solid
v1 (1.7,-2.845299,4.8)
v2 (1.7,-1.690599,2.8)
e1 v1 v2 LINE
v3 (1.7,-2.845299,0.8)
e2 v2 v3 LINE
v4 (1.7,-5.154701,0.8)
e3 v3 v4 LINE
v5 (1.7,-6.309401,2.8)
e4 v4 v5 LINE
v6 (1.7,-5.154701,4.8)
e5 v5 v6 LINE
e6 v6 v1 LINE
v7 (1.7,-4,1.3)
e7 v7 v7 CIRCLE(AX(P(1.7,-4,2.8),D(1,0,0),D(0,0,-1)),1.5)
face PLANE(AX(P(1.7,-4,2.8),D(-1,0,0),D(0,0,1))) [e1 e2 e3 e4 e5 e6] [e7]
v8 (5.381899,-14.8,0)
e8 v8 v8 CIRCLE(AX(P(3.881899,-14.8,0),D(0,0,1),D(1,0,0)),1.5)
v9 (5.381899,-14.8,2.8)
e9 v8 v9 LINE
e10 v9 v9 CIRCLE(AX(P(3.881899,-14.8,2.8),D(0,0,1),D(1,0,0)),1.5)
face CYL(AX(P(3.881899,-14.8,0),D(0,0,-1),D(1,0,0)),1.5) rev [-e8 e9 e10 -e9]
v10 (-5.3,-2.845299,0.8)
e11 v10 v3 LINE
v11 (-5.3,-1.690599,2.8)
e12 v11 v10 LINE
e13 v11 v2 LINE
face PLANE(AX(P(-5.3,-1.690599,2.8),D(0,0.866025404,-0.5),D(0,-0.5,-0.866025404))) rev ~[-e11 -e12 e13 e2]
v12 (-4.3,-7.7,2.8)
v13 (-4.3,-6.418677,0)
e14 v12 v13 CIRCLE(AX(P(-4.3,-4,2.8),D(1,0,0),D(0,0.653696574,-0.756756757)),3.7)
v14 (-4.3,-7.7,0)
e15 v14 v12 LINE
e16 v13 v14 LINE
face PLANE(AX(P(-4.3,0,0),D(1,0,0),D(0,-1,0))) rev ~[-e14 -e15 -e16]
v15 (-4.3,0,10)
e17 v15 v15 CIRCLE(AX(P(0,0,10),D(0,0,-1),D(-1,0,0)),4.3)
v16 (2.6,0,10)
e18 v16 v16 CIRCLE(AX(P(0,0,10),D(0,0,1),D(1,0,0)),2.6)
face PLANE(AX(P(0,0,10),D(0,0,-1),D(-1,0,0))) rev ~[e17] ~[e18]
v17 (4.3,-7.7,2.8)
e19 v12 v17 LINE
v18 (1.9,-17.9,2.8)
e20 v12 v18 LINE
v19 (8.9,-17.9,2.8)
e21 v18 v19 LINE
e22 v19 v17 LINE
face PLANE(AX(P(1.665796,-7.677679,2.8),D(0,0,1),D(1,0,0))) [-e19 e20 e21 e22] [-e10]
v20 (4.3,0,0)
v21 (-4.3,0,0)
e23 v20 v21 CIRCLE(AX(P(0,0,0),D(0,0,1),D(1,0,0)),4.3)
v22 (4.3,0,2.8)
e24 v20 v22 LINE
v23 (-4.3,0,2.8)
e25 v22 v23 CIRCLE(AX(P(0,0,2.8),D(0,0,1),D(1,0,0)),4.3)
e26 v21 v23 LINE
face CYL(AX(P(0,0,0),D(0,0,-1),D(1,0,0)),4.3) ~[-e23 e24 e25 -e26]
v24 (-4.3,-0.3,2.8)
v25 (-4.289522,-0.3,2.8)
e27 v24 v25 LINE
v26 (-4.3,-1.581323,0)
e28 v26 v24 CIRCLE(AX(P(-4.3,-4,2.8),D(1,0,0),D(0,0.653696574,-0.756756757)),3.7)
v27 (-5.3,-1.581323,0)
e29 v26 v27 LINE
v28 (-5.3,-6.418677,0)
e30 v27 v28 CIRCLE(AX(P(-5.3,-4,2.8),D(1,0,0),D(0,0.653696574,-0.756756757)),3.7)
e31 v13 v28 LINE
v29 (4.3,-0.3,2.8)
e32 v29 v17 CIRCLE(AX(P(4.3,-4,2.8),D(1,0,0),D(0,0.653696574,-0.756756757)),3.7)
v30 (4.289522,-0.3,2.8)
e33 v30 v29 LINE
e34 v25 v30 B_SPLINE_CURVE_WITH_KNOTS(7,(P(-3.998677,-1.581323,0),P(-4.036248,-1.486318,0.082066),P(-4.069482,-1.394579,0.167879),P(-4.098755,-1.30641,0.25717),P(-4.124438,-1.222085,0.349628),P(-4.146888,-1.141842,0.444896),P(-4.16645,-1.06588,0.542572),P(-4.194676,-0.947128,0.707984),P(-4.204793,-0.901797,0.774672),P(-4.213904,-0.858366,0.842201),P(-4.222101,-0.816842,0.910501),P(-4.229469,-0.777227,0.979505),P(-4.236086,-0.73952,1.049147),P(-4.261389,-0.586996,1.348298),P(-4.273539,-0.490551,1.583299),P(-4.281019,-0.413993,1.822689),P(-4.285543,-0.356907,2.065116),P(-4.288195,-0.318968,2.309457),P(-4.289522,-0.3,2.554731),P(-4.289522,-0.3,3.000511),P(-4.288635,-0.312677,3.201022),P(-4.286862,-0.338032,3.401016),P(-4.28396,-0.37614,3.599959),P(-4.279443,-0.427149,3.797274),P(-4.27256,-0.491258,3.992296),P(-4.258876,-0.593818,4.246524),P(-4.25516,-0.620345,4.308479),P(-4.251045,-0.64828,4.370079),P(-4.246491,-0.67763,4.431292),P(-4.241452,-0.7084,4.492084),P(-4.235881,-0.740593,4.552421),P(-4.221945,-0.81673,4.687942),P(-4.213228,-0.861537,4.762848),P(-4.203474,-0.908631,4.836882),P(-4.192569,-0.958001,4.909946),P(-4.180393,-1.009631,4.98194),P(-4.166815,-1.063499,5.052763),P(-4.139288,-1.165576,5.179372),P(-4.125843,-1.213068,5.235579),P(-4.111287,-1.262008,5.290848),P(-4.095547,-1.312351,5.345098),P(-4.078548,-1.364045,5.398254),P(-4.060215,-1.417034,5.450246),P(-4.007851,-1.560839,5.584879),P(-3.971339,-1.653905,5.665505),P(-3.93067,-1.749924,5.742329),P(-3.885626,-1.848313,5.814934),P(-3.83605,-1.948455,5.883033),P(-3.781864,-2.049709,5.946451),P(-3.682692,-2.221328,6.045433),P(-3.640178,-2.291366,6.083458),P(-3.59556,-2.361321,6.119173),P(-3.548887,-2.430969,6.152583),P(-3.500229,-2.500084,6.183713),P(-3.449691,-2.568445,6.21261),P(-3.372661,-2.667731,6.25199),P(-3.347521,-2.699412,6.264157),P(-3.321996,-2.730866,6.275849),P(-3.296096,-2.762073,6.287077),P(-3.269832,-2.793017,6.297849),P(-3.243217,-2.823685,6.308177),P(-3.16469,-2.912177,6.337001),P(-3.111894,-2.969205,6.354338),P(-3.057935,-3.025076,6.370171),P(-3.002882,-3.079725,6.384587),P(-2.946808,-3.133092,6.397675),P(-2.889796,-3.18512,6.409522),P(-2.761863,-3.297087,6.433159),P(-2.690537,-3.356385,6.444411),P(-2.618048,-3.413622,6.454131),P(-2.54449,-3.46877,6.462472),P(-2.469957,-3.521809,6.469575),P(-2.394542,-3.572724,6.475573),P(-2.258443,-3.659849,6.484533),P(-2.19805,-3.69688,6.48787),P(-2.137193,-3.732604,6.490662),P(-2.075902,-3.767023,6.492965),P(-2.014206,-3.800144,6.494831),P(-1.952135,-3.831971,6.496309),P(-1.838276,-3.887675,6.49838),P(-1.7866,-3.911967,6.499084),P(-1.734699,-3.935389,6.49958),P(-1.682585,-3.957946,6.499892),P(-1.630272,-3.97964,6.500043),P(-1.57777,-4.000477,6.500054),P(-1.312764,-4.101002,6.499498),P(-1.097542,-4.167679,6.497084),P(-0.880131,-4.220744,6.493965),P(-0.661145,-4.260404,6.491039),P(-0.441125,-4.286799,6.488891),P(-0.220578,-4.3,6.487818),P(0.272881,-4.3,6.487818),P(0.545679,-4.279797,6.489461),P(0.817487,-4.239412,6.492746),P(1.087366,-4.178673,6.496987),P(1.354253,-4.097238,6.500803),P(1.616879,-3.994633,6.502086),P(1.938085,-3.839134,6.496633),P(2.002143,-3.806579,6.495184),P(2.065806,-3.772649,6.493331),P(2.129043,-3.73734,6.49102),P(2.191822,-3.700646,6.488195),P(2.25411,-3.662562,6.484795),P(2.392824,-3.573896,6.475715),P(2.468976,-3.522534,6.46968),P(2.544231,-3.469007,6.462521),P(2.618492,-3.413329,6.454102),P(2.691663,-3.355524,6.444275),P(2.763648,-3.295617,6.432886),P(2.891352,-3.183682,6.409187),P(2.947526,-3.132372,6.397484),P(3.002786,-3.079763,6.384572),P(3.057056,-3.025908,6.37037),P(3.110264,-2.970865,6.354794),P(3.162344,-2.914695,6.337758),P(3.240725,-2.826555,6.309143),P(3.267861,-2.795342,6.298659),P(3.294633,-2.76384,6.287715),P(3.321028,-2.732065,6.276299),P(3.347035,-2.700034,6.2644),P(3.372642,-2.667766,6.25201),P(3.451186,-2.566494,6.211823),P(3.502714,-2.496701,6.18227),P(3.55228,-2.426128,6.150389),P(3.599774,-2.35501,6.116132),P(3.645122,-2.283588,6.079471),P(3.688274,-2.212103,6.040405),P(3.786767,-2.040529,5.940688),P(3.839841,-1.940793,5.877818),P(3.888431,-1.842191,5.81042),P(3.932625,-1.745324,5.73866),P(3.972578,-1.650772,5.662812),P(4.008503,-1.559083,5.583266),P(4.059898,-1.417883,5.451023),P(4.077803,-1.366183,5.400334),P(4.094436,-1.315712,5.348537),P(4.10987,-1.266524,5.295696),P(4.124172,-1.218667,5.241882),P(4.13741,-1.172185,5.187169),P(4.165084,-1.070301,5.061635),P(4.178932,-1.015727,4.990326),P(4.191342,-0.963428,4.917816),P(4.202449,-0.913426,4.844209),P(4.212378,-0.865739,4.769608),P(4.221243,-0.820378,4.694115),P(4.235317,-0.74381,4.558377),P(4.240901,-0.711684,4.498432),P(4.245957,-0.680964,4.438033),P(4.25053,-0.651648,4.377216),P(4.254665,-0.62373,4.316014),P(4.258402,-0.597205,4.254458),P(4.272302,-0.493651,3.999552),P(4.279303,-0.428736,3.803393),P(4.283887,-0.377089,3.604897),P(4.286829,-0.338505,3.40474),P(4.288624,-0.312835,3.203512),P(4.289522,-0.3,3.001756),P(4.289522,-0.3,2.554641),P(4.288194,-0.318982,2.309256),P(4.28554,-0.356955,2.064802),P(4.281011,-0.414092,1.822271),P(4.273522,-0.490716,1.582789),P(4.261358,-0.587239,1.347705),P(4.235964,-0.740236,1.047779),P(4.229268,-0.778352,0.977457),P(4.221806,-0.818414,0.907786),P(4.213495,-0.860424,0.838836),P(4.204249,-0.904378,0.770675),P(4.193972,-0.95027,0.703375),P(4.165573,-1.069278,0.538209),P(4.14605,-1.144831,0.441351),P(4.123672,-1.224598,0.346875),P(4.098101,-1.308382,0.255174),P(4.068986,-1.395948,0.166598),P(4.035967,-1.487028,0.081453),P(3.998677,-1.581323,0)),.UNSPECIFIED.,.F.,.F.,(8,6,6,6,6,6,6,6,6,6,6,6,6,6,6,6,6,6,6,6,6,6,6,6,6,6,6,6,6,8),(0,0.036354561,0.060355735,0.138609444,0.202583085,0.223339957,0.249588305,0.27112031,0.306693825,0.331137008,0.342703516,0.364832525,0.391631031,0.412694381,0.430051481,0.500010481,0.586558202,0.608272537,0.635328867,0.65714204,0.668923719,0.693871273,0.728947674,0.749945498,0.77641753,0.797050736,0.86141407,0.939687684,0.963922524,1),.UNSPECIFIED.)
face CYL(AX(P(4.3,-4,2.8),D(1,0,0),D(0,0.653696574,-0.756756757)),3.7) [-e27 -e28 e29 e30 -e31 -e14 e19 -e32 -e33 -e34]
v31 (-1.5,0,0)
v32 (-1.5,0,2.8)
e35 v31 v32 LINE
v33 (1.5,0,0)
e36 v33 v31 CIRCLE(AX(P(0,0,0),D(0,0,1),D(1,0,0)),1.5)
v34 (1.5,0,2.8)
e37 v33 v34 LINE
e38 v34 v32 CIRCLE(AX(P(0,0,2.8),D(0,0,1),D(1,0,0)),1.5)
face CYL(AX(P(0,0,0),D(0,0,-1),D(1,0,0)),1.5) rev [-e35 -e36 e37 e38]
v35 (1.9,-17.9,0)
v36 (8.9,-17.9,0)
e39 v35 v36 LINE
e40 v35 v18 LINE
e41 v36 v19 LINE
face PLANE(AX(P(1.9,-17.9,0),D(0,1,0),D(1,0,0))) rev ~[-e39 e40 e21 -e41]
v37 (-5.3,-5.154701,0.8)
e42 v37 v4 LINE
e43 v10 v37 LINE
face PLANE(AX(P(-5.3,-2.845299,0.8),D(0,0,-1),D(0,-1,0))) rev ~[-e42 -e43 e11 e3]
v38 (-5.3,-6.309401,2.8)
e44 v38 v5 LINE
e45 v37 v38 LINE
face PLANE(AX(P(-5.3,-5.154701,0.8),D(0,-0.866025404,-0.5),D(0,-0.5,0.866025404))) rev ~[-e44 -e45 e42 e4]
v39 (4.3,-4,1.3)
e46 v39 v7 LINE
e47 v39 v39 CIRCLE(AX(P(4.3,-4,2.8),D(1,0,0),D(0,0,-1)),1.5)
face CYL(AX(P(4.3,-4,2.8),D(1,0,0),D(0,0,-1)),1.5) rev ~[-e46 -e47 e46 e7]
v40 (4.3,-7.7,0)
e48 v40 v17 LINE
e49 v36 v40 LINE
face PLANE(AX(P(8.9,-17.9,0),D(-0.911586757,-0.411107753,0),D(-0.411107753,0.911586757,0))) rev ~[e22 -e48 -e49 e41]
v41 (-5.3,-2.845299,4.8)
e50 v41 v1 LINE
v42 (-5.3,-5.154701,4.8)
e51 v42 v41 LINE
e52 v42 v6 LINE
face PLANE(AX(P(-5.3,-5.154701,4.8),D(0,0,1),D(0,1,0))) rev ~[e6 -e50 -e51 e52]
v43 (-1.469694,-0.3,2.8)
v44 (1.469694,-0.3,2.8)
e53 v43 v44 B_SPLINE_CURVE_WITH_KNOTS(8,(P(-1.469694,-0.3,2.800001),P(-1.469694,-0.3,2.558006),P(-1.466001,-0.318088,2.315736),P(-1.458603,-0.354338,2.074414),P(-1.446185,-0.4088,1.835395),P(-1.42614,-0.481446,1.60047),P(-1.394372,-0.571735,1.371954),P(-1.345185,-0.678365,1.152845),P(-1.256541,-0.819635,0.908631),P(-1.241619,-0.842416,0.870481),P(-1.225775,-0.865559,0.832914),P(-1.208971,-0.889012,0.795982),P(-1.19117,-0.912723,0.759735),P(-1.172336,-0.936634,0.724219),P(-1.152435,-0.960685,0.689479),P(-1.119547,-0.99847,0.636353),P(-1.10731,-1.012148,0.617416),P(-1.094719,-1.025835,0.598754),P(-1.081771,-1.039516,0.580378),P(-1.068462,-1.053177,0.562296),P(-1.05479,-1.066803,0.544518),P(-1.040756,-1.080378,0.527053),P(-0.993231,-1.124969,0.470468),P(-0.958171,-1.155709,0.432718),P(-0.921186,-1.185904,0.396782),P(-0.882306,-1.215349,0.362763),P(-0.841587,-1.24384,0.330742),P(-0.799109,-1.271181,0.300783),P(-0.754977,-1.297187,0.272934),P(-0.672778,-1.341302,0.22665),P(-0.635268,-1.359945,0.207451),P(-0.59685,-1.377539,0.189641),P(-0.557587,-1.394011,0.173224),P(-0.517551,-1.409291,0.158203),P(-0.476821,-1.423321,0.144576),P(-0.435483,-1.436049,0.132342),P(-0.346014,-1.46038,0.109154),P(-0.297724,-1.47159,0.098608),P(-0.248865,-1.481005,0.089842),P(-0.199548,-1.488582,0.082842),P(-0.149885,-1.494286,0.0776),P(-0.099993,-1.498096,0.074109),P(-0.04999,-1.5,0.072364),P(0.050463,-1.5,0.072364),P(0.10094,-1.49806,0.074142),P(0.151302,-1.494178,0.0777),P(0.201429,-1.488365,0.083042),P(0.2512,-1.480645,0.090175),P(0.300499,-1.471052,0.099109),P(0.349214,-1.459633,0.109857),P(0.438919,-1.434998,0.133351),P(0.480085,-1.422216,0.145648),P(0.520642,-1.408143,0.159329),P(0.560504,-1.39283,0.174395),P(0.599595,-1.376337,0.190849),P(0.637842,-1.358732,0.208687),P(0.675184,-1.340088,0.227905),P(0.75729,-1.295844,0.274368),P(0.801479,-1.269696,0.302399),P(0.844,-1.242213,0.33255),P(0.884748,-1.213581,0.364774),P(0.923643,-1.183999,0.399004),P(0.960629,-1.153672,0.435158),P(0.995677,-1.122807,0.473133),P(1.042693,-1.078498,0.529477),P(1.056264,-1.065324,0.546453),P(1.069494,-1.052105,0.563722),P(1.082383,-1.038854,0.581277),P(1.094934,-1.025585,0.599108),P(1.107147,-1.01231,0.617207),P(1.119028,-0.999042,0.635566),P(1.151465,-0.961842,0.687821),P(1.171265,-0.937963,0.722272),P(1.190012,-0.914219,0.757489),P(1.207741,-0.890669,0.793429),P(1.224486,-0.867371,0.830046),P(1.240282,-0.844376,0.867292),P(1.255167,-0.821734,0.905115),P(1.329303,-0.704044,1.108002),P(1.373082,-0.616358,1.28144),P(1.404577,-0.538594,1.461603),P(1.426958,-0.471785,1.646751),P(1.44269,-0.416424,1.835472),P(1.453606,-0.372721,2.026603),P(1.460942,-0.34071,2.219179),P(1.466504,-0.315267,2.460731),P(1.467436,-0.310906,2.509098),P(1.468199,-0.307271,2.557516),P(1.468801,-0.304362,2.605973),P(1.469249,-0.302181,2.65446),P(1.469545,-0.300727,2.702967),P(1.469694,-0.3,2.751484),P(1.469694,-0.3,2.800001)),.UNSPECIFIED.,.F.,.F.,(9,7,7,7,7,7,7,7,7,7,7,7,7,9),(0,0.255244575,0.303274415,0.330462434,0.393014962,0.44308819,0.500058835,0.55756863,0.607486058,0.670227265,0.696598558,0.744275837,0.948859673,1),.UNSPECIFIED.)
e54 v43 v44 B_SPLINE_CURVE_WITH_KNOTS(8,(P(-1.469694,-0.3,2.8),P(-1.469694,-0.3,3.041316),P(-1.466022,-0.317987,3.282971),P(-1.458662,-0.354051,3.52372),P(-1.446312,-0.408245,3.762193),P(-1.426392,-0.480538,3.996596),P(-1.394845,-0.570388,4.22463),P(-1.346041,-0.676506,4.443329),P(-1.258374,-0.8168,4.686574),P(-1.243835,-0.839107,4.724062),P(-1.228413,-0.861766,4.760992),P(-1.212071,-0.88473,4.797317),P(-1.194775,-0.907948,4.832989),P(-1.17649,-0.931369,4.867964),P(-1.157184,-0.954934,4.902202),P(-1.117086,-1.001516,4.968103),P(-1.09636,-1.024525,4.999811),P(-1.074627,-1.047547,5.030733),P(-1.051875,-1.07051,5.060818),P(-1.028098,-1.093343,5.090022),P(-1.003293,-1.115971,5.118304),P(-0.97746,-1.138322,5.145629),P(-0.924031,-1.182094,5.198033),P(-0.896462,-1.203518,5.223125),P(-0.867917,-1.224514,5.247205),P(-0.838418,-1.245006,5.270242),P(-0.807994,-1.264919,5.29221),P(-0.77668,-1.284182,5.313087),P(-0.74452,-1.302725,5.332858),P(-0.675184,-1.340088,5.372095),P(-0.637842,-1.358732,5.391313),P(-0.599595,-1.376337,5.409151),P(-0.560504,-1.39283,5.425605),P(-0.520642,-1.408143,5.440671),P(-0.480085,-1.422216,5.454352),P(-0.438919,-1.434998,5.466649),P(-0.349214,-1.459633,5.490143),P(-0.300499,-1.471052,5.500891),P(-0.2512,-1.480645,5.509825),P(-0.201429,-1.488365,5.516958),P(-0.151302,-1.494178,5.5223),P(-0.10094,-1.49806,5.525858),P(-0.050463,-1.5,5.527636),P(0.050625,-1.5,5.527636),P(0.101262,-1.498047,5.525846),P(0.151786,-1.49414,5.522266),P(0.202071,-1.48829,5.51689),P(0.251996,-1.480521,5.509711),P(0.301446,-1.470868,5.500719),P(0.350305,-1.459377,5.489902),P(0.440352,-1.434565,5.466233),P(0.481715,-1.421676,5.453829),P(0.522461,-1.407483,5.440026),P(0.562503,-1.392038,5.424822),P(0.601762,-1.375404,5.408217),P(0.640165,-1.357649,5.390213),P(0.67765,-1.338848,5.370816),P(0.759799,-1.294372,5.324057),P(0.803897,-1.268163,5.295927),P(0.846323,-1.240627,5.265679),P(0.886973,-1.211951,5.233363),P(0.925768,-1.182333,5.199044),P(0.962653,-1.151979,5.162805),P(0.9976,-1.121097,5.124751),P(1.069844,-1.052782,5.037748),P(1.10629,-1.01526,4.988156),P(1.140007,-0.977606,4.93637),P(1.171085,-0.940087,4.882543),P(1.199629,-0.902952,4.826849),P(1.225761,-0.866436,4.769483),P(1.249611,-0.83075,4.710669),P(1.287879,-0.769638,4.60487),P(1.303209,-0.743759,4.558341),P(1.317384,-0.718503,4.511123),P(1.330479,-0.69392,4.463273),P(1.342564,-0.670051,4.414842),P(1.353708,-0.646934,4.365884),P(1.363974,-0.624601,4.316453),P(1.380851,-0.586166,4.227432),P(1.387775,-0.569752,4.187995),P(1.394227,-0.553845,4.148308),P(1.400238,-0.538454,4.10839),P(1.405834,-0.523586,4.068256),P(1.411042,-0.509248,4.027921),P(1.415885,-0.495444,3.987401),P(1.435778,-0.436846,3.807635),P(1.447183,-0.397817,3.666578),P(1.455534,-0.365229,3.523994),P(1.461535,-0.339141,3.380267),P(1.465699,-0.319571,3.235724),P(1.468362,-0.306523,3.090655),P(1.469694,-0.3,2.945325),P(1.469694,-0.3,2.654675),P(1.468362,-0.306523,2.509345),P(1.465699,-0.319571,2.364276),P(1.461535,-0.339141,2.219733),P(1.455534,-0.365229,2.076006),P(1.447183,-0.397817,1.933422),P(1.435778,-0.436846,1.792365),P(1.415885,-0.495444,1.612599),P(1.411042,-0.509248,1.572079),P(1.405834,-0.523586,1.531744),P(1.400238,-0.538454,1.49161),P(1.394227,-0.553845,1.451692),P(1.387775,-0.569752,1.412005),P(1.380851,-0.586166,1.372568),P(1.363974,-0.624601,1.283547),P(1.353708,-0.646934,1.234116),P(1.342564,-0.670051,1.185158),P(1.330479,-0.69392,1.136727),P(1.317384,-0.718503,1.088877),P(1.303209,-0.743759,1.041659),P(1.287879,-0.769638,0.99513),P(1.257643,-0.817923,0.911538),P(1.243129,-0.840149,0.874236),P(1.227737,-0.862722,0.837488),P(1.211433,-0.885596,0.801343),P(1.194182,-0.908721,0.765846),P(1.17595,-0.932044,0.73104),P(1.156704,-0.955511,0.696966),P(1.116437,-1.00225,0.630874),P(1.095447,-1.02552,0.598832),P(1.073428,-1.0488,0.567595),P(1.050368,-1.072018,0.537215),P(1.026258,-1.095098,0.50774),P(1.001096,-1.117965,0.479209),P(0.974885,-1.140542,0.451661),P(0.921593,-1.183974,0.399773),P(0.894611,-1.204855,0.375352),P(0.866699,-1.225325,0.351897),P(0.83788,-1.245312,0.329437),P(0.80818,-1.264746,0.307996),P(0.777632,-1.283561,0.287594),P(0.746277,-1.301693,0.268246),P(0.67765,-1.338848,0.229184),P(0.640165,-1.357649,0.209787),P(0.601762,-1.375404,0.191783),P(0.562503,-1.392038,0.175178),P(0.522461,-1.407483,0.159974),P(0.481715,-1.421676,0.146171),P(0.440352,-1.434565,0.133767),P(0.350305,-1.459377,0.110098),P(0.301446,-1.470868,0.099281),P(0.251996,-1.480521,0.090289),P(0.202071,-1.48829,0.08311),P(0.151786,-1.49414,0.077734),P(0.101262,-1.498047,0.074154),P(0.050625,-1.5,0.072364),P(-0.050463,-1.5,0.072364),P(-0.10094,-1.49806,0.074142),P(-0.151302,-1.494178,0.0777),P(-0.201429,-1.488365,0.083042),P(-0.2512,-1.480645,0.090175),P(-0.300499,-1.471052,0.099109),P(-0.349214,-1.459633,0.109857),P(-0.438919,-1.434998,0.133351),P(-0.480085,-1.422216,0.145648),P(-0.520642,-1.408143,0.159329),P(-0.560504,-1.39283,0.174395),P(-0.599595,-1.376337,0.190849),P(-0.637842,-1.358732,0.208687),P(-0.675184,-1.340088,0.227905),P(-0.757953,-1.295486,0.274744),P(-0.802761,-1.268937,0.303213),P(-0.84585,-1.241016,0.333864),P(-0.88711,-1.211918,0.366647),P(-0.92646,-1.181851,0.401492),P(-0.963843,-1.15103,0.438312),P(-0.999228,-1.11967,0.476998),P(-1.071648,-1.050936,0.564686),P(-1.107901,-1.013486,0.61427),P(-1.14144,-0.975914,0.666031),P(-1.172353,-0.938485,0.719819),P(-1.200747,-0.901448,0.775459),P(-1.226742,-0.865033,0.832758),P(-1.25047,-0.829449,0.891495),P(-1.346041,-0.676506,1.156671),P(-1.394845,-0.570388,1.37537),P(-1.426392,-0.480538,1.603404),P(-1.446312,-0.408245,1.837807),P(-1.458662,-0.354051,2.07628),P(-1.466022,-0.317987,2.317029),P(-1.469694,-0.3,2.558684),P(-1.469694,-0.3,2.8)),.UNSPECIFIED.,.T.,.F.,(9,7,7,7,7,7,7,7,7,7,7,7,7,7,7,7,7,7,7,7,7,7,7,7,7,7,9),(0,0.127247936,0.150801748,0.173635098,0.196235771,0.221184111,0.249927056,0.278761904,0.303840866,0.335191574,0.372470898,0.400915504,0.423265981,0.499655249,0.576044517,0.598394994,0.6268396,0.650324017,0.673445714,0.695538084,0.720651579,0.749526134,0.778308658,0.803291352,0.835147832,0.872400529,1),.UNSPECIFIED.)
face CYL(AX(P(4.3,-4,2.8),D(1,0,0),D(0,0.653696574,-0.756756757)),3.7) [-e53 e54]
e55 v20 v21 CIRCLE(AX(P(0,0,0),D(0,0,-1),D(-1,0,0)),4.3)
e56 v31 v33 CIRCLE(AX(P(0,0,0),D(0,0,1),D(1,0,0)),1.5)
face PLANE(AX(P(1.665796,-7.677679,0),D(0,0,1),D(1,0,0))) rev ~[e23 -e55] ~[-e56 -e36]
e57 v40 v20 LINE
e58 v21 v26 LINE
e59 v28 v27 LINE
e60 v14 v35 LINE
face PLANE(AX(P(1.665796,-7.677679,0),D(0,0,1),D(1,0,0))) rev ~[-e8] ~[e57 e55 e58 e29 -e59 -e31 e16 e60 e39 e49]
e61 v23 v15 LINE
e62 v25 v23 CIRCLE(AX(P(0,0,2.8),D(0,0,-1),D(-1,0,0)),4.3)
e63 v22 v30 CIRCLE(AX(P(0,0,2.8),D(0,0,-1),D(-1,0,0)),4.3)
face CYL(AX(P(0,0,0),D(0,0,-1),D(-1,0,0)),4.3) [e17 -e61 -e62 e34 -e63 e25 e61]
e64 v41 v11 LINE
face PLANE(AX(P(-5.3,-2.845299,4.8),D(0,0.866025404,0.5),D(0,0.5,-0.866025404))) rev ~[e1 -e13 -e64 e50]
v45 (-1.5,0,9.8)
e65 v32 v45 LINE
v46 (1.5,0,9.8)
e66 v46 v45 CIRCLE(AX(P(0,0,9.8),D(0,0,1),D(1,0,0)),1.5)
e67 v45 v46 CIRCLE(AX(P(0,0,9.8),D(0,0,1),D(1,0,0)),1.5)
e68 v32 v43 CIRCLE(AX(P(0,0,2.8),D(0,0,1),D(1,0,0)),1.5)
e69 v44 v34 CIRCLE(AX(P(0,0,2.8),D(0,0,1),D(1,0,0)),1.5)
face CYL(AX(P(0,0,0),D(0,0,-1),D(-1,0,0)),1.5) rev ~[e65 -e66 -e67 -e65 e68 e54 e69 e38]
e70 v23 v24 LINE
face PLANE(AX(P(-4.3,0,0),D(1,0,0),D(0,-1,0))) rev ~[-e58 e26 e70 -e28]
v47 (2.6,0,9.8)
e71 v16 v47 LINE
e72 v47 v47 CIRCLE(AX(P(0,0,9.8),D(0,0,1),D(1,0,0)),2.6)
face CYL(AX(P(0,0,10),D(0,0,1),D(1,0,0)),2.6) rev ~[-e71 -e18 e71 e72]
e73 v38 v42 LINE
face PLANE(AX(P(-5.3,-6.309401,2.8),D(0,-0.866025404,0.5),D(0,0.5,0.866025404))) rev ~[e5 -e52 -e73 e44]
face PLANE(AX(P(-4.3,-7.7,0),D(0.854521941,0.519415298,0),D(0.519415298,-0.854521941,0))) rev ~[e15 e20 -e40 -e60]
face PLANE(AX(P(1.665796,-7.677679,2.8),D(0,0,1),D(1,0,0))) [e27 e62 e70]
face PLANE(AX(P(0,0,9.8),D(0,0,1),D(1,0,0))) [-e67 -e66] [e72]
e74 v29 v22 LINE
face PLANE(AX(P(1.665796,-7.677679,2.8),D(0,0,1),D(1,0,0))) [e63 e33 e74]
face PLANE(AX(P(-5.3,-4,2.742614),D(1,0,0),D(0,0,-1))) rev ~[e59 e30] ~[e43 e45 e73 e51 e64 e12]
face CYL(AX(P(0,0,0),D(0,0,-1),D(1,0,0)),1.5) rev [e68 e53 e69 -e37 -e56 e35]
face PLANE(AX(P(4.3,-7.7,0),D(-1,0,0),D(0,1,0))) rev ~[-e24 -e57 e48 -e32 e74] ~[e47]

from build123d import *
from build123d.topology import SkipClean

# Parameters (mm, degrees)
SKETCH_1_R          = 1.5
EXTRUDE_1_DEPTH     = 2.8
EXTRUDE_2_DEPTH     = 9.6
SKETCH_3_R          = 4.3
SKETCH_3_R_2        = 1.5
EXTRUDE_4_DEPTH     = 10
CUT_EXTRUDE_START   = -0.2
SKETCH_4_R          = 2.6
SKETCH_4_R_2        = 1.5
CUT_EXTRUDE_1_DEPTH = 0.2
CUT_EXTRUDE_2_DEPTH = 7
SKETCH_6_R          = 1.5
CUT_EXTRUDE_3_DEPTH = 23.64000892


with BuildPart() as part:
    # 草图1 → 凸台-拉伸1 (new body)
    with BuildSketch(Plane.XY):
        with BuildLine():
            Line((4.3, -7.7), (4.3, 0))
            ThreePointArc((4.3, 0), (0, 4.3), (-4.3, 0))
            Line((-4.3, 0), (-4.3, -7.7))
            Line((-4.3, -7.7), (1.9, -17.9))
            Line((1.9, -17.9), (8.9, -17.9))
            Line((8.9, -17.9), (4.3, -7.7))
        make_face()
        Circle(SKETCH_1_R, mode=Mode.SUBTRACT)
        with Locations((3.881899419, -14.8)):
            Circle(SKETCH_1_R, mode=Mode.SUBTRACT)
    extrude(amount=EXTRUDE_1_DEPTH)

    # 草图2 → 凸台-拉伸2 (add)
    with BuildSketch(Plane(origin=(4.3, 0, 0), x_dir=(0, 0, -1), z_dir=(1, 0, 0))):
        with BuildLine():
            Line((0, -6.418677324), (0, -1.581322676))
            ThreePointArc((0, -1.581322676), (-6.5, -4), (0, -6.418677324))
        make_face()
    extrude(amount=-EXTRUDE_2_DEPTH)

    # 草图3 → 凸台-拉伸4 (add)
    with SkipClean():  # the faces are left unmerged after this step: merging them gives an invalid solid
        with BuildSketch(Plane(origin=(0, 0, 0), x_dir=(-1, 0, 0), z_dir=(0, 0, -1))):
            Circle(SKETCH_3_R)
            Circle(SKETCH_3_R_2, mode=Mode.SUBTRACT)
        extrude(amount=-EXTRUDE_4_DEPTH)

    # 草图4 → 切除-拉伸1 (cut)
    with SkipClean():  # the faces are left unmerged after this step: merging them gives an invalid solid
        with BuildSketch(Plane.XY.offset(10).offset(CUT_EXTRUDE_START)):
            Circle(SKETCH_4_R)
            Circle(SKETCH_4_R_2, mode=Mode.SUBTRACT)
        extrude(amount=CUT_EXTRUDE_1_DEPTH, mode=Mode.SUBTRACT)

    # 草图5 → 切除-拉伸2 (cut)
    with SkipClean():  # the faces are left unmerged after this step: merging them gives an invalid solid
        with BuildSketch(Plane.ZY.offset(5.3)):
            Polygon((0.8, -5.154700538), (2.8, -6.309401077), (4.8, -5.154700538), (4.8, -2.845299462), (2.8, -1.690598923), (0.8, -2.845299462), align=None)
        extrude(amount=-CUT_EXTRUDE_2_DEPTH, mode=Mode.SUBTRACT)

    # 草图6 → 切除-拉伸3 (cut, through all)
    with SkipClean():  # the faces are left unmerged after this step: merging them gives an invalid solid
        with BuildSketch(Plane(origin=(4.3, 0, 0), x_dir=(0, 0, -1), z_dir=(1, 0, 0))):
            with Locations((-2.8, -4)):
                Circle(SKETCH_6_R)
        extrude(amount=-CUT_EXTRUDE_3_DEPTH, mode=Mode.SUBTRACT)


solid = part.part
